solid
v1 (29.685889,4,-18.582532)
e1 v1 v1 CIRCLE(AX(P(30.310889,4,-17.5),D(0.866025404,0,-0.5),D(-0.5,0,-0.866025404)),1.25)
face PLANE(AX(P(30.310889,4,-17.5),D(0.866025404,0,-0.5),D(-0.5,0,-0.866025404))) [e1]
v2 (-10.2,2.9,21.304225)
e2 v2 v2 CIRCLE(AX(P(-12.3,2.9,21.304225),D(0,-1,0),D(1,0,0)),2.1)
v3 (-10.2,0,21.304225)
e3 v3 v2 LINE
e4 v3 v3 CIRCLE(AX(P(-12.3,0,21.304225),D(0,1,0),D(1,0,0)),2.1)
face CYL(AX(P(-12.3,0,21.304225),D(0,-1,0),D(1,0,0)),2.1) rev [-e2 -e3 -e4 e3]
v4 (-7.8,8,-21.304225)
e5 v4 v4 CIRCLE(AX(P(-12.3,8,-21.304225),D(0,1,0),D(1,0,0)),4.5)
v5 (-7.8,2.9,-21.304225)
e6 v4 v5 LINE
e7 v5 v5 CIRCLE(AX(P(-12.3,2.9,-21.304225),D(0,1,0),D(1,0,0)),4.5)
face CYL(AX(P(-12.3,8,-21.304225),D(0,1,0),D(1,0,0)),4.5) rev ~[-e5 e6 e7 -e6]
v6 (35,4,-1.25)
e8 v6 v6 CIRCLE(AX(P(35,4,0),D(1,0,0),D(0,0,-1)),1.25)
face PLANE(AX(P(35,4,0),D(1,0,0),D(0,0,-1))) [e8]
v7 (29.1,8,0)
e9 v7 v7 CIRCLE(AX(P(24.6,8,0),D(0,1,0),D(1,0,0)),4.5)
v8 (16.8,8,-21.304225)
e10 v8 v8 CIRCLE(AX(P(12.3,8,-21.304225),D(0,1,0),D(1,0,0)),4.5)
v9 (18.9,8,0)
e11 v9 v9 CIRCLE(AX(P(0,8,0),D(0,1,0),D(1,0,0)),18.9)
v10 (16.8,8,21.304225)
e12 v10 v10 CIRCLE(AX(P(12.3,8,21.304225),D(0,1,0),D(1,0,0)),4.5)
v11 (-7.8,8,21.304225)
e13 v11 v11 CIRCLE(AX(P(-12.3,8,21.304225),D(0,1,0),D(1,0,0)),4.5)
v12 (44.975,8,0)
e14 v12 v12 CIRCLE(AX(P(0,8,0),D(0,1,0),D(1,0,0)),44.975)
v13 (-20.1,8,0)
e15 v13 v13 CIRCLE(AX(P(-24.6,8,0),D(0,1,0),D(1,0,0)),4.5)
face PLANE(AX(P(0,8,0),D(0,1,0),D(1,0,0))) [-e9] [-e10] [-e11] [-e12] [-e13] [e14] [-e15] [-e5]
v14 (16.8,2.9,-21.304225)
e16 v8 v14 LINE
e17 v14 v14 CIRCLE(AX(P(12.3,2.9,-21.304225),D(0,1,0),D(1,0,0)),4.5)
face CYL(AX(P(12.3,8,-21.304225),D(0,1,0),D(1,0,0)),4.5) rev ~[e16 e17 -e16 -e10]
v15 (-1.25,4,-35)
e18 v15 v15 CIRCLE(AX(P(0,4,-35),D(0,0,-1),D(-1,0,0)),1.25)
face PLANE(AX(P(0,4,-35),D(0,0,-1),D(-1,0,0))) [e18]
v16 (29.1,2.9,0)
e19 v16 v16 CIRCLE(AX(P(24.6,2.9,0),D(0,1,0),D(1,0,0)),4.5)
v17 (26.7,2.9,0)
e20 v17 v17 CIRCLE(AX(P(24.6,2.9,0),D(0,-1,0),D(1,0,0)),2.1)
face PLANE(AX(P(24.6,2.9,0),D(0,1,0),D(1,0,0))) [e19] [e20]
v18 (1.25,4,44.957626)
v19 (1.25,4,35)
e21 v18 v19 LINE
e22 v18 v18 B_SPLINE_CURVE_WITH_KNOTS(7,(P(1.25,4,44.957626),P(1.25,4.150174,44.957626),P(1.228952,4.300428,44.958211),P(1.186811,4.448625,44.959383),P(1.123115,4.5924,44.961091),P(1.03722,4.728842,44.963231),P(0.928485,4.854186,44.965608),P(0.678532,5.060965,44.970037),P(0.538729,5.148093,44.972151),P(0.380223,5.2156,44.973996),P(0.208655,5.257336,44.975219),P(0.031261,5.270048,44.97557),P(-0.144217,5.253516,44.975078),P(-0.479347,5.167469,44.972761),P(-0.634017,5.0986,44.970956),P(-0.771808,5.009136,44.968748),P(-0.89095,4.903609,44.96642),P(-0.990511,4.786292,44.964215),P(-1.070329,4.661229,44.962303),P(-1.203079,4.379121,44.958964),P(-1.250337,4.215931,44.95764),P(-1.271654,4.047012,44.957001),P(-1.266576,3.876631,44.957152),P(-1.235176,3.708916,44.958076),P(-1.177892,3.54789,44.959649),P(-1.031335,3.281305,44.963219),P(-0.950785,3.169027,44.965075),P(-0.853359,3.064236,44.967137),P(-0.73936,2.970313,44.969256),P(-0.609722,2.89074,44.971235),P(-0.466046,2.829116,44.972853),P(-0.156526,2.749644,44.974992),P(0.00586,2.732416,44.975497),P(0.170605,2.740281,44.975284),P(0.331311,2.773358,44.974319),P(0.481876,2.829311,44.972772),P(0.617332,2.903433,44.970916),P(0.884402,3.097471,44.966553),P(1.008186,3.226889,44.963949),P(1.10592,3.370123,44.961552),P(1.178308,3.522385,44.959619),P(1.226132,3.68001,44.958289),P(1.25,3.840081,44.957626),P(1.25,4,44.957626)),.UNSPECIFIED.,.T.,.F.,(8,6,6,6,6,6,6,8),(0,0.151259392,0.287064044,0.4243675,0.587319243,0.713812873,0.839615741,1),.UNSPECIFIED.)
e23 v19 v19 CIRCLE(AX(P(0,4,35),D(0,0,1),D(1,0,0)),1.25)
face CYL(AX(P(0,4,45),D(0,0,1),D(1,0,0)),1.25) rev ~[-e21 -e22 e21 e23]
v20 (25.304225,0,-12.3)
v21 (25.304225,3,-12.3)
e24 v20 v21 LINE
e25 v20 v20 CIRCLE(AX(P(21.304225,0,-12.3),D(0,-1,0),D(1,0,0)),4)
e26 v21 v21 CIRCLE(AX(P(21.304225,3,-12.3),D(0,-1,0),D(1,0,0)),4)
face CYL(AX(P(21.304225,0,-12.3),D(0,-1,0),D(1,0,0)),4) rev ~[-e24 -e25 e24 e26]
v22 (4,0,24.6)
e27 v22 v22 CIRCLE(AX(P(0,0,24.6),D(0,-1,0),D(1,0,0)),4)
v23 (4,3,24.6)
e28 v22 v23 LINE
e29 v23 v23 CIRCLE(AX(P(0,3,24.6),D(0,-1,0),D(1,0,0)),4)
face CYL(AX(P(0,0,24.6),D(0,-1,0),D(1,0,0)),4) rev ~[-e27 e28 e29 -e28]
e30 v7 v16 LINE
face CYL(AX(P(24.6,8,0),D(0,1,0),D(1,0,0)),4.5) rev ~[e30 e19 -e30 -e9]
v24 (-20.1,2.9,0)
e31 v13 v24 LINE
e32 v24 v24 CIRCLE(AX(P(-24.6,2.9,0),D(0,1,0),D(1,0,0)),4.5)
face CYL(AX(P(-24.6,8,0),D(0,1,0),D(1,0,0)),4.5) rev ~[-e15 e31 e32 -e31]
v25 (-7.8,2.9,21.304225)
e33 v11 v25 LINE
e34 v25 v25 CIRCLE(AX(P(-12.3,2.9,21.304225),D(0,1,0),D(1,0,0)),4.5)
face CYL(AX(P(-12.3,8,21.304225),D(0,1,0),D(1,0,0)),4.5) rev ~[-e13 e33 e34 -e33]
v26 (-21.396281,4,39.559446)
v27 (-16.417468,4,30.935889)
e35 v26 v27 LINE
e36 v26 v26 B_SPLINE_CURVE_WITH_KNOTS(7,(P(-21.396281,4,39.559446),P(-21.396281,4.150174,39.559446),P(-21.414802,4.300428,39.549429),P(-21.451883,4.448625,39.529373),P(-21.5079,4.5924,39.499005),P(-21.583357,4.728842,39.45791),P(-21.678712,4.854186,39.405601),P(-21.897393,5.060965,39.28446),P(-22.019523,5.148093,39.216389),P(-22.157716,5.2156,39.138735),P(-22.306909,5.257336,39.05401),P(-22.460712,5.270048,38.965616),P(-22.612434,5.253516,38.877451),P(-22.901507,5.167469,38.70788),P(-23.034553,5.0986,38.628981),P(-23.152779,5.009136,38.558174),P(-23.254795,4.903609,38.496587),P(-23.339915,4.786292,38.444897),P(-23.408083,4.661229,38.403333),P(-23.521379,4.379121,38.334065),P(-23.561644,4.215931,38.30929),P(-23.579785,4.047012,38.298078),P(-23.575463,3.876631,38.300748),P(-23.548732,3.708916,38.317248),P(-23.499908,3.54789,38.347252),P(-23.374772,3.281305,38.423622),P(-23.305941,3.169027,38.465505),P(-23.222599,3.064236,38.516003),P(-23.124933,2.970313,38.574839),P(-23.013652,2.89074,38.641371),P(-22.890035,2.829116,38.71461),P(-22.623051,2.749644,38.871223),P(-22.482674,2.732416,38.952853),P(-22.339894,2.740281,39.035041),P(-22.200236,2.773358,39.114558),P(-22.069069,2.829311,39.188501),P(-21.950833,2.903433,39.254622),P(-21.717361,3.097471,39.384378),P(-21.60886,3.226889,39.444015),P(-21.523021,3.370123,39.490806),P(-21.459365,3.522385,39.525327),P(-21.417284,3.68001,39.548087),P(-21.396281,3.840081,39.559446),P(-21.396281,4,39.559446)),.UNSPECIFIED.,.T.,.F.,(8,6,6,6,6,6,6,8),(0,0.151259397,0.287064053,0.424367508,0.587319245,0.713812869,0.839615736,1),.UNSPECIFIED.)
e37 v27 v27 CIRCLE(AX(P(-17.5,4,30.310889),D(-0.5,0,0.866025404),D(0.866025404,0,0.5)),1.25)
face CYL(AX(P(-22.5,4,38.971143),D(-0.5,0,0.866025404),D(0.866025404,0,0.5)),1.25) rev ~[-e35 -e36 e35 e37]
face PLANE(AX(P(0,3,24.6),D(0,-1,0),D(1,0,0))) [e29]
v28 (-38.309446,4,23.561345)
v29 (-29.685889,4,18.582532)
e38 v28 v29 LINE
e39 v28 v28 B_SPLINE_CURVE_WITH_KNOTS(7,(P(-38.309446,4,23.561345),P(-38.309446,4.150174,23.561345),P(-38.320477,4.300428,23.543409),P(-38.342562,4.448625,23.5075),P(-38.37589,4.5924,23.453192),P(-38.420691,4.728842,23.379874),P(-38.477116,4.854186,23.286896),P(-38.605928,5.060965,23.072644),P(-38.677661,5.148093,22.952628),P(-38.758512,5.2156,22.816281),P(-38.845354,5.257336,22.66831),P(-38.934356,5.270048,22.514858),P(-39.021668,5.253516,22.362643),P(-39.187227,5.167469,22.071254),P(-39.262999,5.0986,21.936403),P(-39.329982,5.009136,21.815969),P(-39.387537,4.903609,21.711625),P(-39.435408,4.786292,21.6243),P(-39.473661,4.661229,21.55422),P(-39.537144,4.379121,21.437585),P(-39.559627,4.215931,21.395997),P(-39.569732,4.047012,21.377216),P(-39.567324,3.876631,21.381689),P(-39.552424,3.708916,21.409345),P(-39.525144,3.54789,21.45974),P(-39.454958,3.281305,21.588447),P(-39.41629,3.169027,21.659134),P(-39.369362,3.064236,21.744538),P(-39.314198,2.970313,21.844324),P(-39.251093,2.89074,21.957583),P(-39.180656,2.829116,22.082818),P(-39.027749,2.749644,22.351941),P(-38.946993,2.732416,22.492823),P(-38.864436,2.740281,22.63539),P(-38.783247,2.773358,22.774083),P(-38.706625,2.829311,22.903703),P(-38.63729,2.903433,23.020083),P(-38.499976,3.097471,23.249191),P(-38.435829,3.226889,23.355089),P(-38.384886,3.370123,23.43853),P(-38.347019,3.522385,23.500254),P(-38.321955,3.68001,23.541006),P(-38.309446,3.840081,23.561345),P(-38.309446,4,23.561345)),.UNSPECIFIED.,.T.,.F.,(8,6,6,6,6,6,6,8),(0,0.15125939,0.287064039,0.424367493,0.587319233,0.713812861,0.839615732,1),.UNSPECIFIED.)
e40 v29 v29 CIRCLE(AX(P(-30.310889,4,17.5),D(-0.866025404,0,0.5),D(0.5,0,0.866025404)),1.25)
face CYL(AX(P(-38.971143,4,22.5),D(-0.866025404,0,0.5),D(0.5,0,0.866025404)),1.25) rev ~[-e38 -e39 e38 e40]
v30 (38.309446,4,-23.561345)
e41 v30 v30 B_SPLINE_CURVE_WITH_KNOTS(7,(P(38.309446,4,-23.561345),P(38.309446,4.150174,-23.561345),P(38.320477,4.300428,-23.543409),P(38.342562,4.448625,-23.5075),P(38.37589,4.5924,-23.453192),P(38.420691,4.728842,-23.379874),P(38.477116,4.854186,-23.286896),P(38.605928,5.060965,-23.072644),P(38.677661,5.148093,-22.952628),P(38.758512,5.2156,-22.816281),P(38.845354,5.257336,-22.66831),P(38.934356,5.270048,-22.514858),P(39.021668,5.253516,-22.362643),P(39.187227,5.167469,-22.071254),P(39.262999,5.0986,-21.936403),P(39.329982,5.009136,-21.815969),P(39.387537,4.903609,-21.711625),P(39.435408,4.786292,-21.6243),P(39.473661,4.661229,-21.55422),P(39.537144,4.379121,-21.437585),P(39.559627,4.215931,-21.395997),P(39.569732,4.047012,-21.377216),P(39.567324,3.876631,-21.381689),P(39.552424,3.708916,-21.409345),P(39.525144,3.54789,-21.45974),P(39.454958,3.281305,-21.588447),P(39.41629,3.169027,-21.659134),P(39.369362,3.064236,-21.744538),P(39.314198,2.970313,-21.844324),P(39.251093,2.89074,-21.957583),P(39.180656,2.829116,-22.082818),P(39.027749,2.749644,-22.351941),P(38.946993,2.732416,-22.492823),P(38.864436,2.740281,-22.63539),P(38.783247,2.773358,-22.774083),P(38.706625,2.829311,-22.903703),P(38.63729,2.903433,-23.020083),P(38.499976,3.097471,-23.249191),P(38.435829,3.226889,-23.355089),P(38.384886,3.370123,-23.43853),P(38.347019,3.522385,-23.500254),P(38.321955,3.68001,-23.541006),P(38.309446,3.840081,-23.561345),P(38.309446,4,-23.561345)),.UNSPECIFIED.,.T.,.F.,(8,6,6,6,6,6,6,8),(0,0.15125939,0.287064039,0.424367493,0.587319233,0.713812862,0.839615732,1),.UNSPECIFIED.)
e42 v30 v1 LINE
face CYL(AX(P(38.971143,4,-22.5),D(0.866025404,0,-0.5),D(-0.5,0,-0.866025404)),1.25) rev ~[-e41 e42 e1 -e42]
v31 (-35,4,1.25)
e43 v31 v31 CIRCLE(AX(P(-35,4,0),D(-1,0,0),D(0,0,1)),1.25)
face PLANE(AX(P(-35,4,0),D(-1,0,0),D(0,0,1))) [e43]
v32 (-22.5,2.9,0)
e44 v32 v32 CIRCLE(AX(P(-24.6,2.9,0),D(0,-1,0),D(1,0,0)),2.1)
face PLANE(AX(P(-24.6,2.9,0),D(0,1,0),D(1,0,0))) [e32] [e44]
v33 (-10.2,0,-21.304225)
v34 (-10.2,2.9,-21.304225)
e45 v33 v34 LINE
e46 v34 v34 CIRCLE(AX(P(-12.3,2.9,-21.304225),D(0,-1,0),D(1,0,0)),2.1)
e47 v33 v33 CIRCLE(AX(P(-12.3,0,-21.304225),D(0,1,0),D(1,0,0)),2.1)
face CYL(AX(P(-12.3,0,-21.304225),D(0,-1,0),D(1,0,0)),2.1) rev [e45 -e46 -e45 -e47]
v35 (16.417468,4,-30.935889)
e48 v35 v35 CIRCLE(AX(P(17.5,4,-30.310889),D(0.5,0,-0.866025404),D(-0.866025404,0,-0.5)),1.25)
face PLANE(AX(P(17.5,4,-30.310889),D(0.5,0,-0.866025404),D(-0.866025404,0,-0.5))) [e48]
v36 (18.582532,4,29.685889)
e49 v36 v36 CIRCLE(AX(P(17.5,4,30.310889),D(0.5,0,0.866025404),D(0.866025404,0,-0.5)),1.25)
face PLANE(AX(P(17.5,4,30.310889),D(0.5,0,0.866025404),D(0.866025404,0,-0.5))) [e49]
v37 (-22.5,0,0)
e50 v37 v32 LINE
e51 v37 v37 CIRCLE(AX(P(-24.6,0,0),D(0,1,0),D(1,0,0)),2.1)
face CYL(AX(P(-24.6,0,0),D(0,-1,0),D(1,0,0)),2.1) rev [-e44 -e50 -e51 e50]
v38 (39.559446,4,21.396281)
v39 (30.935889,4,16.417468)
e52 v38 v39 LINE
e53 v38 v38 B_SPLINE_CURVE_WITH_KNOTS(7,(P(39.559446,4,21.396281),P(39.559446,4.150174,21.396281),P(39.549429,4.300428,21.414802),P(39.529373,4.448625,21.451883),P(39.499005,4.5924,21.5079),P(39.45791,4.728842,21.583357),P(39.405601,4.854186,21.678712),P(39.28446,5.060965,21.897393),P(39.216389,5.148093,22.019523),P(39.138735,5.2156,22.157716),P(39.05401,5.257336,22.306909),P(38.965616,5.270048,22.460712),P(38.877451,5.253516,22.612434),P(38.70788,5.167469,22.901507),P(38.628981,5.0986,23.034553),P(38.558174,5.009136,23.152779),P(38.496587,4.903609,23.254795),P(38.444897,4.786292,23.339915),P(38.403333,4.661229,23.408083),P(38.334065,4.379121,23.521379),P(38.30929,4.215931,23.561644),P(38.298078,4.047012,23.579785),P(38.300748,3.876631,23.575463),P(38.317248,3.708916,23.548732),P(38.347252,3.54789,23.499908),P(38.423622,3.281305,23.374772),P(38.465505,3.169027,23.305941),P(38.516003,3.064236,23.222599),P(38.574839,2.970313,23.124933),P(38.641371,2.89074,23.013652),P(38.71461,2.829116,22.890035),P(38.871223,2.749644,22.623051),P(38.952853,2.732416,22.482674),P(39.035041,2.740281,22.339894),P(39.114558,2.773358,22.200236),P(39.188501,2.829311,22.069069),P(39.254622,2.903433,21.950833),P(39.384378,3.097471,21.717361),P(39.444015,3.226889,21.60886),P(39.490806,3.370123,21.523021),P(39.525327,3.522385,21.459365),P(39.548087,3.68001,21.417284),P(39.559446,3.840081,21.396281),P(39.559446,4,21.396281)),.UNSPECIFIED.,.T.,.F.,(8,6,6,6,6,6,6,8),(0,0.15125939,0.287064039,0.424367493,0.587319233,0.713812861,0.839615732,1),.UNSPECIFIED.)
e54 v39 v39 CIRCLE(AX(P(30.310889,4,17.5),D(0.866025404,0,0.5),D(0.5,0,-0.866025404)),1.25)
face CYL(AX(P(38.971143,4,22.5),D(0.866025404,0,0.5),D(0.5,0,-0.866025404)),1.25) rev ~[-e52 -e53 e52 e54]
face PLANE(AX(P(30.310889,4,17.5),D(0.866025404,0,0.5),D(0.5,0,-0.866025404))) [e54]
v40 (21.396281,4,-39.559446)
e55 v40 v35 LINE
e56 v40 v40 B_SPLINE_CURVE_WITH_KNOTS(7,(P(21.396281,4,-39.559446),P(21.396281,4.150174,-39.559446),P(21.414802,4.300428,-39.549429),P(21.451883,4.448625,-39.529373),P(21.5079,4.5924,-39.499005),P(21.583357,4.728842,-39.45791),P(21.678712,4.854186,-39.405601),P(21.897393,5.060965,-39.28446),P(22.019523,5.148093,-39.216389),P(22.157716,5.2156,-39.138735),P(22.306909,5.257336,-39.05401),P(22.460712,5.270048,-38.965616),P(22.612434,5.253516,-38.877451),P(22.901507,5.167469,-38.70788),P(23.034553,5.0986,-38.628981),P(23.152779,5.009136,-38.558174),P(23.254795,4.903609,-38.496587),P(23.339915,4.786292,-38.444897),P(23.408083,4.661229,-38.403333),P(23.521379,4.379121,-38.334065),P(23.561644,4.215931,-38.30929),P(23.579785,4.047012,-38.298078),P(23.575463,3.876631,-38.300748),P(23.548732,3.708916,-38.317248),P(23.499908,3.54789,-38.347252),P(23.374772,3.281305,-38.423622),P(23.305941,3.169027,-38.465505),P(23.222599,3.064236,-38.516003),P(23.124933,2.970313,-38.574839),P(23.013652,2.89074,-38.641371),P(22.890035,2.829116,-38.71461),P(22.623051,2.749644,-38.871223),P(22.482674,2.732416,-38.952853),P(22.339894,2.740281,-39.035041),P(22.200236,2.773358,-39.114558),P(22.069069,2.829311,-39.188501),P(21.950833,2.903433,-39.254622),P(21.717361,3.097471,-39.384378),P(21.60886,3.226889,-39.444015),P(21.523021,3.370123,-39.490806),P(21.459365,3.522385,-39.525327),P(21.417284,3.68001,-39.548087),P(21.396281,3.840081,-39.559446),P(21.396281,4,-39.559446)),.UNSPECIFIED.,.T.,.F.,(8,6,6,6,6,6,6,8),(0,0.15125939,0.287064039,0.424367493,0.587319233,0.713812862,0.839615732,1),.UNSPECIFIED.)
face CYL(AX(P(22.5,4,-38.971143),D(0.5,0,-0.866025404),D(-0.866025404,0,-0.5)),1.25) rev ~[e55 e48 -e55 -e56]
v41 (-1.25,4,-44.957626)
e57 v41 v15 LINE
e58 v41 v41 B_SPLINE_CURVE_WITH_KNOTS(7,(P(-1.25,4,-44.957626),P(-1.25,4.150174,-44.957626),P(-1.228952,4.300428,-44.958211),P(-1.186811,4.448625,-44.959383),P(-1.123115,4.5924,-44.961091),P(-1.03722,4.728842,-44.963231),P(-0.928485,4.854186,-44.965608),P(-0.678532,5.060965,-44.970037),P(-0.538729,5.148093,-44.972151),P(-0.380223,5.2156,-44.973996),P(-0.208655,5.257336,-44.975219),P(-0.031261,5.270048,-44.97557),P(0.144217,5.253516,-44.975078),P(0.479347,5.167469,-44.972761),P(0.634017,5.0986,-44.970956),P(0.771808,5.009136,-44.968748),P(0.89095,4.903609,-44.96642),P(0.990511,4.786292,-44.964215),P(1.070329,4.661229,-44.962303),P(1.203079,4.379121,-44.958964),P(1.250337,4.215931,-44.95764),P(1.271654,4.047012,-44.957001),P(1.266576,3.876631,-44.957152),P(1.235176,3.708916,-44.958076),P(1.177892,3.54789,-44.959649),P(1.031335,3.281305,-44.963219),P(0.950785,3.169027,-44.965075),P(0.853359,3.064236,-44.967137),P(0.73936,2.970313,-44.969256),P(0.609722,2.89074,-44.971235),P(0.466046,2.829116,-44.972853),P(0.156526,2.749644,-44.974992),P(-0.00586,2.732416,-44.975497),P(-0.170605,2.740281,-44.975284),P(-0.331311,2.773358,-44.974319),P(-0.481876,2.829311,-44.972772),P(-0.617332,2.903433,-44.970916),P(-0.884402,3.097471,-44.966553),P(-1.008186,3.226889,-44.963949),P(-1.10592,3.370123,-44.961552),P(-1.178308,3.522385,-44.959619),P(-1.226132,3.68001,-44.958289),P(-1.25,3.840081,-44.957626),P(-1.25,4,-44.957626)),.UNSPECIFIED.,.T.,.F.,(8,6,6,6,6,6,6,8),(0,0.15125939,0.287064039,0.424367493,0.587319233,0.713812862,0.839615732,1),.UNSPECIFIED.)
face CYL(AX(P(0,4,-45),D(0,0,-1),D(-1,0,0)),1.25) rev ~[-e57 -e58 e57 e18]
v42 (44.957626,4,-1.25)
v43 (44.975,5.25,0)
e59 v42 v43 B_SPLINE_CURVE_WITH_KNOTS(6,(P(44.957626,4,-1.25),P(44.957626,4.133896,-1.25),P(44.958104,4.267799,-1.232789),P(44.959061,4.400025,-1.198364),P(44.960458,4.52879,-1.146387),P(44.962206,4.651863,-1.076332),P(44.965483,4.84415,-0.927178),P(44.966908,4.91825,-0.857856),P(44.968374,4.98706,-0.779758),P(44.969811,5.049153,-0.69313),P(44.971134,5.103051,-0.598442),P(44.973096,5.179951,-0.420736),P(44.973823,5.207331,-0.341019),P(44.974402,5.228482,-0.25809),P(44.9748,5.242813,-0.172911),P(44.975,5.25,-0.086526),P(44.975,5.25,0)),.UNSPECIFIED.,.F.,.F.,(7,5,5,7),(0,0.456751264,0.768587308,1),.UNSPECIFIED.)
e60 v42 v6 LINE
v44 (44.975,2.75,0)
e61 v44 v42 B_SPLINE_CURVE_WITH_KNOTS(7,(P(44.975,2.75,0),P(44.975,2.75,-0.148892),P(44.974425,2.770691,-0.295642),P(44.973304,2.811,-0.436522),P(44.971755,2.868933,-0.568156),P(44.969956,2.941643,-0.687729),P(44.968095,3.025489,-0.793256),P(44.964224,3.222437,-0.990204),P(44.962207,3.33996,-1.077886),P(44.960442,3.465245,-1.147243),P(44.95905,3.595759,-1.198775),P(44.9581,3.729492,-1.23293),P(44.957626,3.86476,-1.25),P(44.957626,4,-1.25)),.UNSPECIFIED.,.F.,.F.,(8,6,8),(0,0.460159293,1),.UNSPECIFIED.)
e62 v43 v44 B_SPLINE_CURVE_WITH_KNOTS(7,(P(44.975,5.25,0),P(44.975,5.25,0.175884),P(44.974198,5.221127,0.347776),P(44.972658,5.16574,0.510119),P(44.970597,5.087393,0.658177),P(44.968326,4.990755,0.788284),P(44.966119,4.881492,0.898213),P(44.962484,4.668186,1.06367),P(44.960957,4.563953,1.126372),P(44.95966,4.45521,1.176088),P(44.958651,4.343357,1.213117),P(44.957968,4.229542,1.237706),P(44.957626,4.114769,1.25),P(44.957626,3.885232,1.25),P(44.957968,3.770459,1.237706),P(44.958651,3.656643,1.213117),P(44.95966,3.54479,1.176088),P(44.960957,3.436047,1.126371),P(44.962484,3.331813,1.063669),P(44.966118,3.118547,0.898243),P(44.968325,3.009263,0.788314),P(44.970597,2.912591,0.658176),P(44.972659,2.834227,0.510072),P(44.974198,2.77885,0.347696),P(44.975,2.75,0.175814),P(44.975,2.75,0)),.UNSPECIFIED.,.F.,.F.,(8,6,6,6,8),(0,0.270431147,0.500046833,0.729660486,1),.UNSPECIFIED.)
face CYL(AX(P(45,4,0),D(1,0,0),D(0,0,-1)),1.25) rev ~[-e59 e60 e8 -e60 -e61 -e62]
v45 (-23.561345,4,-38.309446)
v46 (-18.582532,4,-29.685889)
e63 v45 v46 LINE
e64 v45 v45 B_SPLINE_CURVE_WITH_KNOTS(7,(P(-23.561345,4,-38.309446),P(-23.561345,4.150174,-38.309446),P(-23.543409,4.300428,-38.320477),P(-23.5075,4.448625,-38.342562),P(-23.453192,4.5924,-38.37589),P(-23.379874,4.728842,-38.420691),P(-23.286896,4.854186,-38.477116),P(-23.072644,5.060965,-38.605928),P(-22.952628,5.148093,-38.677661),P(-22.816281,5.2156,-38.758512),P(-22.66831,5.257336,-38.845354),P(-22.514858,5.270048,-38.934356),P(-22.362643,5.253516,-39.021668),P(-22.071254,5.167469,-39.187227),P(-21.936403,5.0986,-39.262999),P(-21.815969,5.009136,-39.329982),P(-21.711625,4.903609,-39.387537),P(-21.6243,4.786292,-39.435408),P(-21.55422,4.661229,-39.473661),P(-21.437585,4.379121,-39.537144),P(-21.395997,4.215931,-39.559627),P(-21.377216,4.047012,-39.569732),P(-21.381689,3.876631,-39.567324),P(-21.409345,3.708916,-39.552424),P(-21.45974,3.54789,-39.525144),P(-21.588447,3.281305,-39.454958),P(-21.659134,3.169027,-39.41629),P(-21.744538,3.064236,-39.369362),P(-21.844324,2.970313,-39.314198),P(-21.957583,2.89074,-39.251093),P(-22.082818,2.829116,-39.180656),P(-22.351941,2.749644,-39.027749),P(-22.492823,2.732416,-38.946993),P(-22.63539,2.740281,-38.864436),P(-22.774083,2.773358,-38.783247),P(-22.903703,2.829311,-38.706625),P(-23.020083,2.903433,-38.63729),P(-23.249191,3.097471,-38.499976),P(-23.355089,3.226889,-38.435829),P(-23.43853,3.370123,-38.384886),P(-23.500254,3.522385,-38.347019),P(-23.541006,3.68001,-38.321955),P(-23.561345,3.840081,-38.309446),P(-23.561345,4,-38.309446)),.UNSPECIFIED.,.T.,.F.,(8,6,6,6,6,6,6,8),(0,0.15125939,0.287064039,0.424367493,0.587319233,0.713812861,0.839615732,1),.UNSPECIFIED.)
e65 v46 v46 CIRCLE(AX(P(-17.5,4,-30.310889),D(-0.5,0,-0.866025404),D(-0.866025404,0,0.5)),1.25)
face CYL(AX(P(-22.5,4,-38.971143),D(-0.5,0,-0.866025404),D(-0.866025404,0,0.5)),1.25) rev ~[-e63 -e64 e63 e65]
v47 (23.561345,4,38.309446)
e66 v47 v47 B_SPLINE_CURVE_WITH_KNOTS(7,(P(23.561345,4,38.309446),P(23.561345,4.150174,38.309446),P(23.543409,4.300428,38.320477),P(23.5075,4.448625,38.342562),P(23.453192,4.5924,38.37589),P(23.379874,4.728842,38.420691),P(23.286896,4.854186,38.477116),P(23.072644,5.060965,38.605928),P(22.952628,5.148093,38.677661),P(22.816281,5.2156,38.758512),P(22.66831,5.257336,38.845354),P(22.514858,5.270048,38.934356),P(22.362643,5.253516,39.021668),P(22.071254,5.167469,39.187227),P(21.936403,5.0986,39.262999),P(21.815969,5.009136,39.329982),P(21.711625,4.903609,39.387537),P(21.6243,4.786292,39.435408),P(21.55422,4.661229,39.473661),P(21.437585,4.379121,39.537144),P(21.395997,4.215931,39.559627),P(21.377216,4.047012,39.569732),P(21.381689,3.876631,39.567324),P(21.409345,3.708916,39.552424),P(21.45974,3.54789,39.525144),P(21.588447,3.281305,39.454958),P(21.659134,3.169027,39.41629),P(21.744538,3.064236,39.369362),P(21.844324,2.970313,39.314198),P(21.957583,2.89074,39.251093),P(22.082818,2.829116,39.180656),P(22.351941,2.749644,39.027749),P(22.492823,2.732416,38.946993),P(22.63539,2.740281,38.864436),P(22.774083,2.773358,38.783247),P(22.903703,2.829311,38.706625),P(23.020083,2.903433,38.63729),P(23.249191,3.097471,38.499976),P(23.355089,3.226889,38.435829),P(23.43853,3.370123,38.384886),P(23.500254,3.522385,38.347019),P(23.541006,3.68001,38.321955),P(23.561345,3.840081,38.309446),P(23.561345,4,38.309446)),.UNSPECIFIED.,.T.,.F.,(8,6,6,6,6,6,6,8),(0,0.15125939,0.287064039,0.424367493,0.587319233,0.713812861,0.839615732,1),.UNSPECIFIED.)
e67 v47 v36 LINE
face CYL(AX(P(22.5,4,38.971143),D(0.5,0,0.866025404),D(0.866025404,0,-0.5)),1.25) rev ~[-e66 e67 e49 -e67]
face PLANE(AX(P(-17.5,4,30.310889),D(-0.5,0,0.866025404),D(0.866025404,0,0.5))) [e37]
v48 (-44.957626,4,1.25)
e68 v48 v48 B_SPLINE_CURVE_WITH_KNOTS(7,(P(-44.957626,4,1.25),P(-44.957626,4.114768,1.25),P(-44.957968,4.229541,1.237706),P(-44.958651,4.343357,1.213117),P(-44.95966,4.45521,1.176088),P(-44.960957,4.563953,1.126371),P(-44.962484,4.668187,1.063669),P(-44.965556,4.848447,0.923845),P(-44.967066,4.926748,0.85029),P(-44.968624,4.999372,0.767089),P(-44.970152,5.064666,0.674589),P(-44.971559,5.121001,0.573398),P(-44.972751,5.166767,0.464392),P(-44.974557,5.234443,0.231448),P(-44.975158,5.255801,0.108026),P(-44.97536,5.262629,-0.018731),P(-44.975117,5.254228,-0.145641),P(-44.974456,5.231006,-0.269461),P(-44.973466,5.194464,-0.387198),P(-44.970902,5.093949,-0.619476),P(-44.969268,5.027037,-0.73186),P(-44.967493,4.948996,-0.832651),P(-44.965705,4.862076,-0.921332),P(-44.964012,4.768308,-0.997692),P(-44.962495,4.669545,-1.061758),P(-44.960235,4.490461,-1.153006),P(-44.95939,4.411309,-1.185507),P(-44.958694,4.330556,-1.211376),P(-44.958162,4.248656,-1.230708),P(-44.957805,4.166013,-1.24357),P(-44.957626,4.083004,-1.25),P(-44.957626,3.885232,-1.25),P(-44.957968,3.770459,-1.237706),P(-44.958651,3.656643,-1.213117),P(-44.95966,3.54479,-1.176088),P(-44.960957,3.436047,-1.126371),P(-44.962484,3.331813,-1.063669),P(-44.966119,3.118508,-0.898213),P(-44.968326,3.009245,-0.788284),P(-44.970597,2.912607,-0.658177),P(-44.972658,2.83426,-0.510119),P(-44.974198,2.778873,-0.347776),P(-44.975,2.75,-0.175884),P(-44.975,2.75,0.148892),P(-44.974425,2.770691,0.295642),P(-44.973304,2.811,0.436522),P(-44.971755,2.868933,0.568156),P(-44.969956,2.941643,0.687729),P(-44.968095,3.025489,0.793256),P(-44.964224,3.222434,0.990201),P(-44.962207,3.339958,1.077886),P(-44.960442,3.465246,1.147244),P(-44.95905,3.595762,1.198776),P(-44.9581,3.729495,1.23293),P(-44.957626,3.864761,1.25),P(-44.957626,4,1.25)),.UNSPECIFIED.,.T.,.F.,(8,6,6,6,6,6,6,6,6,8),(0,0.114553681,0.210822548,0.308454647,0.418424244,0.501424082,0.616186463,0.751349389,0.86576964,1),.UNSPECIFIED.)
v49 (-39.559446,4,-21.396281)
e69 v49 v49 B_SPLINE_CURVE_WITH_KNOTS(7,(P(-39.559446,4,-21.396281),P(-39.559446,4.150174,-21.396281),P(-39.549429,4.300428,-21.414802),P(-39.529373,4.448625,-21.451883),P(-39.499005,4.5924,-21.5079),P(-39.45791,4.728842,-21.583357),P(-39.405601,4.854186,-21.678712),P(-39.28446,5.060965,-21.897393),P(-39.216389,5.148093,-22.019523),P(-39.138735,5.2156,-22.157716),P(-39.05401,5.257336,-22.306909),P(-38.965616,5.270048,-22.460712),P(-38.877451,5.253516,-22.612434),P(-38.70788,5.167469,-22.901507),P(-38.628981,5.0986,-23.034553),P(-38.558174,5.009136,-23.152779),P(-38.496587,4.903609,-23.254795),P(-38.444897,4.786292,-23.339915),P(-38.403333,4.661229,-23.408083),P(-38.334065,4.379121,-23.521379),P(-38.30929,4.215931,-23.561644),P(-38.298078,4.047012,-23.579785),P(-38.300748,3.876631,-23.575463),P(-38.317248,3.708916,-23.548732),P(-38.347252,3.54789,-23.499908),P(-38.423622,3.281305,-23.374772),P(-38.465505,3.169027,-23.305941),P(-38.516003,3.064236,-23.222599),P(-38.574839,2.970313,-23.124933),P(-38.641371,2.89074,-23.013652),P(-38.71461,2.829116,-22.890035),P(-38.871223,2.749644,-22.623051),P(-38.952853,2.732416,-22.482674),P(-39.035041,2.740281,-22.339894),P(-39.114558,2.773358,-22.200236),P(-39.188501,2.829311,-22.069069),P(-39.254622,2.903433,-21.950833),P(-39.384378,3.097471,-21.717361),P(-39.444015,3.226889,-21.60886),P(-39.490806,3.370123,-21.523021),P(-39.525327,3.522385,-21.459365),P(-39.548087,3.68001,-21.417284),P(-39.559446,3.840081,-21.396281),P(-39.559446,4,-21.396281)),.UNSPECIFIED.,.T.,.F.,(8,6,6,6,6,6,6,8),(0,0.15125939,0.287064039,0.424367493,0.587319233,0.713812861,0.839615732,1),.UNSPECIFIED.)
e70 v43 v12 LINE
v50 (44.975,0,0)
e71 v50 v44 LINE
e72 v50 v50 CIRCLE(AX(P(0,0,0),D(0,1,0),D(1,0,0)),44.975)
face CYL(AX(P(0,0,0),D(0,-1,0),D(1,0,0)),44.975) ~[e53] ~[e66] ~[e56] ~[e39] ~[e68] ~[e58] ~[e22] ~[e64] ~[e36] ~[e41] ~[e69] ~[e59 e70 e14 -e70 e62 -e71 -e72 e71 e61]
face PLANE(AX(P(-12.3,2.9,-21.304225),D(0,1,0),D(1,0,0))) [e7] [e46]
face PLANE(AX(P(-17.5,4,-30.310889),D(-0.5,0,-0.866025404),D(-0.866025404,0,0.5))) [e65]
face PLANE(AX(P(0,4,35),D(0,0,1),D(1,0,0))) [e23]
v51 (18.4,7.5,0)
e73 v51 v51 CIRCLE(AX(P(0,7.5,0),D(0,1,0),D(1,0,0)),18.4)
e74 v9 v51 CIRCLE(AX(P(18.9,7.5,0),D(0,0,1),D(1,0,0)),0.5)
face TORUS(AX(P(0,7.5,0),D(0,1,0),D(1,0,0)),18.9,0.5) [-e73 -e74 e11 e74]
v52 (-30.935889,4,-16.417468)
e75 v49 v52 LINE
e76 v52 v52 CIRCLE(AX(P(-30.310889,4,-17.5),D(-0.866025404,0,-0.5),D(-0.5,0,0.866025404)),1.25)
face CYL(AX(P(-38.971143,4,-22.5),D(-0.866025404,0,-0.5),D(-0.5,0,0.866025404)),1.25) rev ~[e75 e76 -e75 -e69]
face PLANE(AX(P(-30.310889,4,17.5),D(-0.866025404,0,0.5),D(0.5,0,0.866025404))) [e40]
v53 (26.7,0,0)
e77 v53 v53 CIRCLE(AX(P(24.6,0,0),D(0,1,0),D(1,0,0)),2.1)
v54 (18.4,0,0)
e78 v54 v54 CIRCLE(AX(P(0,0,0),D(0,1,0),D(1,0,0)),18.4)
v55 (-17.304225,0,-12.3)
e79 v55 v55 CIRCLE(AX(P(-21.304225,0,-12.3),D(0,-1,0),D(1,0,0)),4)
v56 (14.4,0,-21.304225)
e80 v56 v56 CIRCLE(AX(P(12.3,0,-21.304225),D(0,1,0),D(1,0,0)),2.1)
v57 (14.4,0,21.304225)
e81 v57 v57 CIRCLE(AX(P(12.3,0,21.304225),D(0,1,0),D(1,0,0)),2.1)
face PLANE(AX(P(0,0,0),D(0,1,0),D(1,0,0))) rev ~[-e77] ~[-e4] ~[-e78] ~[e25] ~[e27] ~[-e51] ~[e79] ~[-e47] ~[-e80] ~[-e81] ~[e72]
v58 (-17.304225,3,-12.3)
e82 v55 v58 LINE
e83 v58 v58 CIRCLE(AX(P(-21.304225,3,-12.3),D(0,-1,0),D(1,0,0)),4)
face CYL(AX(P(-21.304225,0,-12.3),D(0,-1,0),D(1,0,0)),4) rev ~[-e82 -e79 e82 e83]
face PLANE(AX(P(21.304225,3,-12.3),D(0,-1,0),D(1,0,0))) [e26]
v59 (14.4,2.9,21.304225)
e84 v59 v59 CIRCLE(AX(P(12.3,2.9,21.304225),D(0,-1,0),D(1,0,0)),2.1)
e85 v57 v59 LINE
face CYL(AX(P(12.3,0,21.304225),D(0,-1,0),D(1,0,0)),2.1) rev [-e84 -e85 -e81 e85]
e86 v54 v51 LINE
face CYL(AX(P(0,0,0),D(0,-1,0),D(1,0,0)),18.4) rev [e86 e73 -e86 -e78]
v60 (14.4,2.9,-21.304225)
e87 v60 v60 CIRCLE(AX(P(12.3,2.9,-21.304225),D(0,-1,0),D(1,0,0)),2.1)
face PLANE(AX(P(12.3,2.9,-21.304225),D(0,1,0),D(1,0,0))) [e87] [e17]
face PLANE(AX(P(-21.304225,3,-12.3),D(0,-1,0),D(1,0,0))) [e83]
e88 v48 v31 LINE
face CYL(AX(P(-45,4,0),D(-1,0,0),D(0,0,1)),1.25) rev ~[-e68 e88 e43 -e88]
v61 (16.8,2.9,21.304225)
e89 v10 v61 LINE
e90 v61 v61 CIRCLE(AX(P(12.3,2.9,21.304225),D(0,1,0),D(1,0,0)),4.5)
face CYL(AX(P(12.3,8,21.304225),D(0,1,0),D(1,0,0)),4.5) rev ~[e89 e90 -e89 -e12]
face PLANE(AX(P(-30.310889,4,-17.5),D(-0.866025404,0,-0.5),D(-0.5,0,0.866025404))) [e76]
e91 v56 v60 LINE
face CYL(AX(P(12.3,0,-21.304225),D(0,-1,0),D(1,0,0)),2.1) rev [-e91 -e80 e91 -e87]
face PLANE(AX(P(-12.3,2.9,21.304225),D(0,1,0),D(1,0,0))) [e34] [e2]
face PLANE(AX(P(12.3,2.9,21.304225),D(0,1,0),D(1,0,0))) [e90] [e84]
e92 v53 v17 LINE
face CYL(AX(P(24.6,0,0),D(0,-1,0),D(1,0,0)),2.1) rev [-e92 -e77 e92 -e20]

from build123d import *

# Parameters (mm, degrees)
SKETCH_1_R               = 44.975
SKETCH_1_R_2             = 2.1
SKETCH_1_R_3             = 18.4
EXTRUDE_1_DEPTH          = 8
SKETCH_2_R               = 4
CUT_EXTRUDE_1_DEPTH      = 3
SKETCH_4_R               = 4.5
CUT_EXTRUDE_2_DEPTH      = 5.1
SKETCH_5_R               = 1.25
CUT_EXTRUDE_3_DEPTH      = 10
PATTERN_CIRCULAR_1_COUNT = 12
FILLET_1_R               = 0.5


with BuildPart() as part:
    # 草图1 → 凸台-拉伸1 (new body)
    with BuildSketch(Plane(origin=(0, 0, 0), x_dir=(1, 0, 0), z_dir=(0, 1, 0))):
        Circle(SKETCH_1_R)
        with Locations((-24.6, 0)):
            Circle(SKETCH_1_R_2, mode=Mode.SUBTRACT)
        with Locations((-12.3, 21.304224933)):
            Circle(SKETCH_1_R_2, mode=Mode.SUBTRACT)
        with Locations((12.3, 21.304224933)):
            Circle(SKETCH_1_R_2, mode=Mode.SUBTRACT)
        with Locations((24.6, 0)):
            Circle(SKETCH_1_R_2, mode=Mode.SUBTRACT)
        with Locations((12.3, -21.304224933)):
            Circle(SKETCH_1_R_2, mode=Mode.SUBTRACT)
        with Locations((-12.3, -21.304224933)):
            Circle(SKETCH_1_R_2, mode=Mode.SUBTRACT)
        Circle(SKETCH_1_R_3, mode=Mode.SUBTRACT)
    extrude(amount=EXTRUDE_1_DEPTH)

    # 草图2 → 切除-拉伸1 (cut)
    with BuildSketch(Plane.XZ):
        with Locations((-21.304224933, -12.3)):
            Circle(SKETCH_2_R)
        with Locations((0, 24.6)):
            Circle(SKETCH_2_R)
        with Locations((21.304224933, -12.3)):
            Circle(SKETCH_2_R)
    extrude(amount=-CUT_EXTRUDE_1_DEPTH, mode=Mode.SUBTRACT)

    # 草图4 → 切除-拉伸2 (cut)
    with BuildSketch(Plane(origin=(0, 8, 0), x_dir=(1, 0, 0), z_dir=(0, 1, 0))):
        with Locations((-24.6, 0)):
            Circle(SKETCH_4_R)
        with Locations((-12.3, 21.304224933)):
            Circle(SKETCH_4_R)
        with Locations((12.3, 21.304224933)):
            Circle(SKETCH_4_R)
        with Locations((24.6, 0)):
            Circle(SKETCH_4_R)
        with Locations((12.3, -21.304224933)):
            Circle(SKETCH_4_R)
        with Locations((-12.3, -21.304224933)):
            Circle(SKETCH_4_R)
    extrude(amount=-CUT_EXTRUDE_2_DEPTH, mode=Mode.SUBTRACT)

    # 草图5 → 切除-拉伸3 (cut)
    with BuildSketch(Plane(origin=(45, 0, 0), x_dir=(0, 0, -1), z_dir=(1, 0, 0))):
        with Locations((0, 4)):
            Circle(SKETCH_5_R)
    cut_extrude_3 = extrude(amount=-CUT_EXTRUDE_3_DEPTH, mode=Mode.SUBTRACT)

    # 阵列(圆周)1: 切除-拉伸3 ×12 about axis
    pattern_circular_1_axis = Axis((0, 0, 0), (0, 1, 0))
    for i in range(1, PATTERN_CIRCULAR_1_COUNT):
        add(cut_extrude_3.rotate(pattern_circular_1_axis, i * 360 / PATTERN_CIRCULAR_1_COUNT), mode=Mode.SUBTRACT)

    # 圆角1
    fillet_1_edges = [part.edges().sort_by_distance(p)[0] for p in [
        (-18.4, 8, 0),
    ]]
    fillet(fillet_1_edges, radius=FILLET_1_R)


solid = part.part
